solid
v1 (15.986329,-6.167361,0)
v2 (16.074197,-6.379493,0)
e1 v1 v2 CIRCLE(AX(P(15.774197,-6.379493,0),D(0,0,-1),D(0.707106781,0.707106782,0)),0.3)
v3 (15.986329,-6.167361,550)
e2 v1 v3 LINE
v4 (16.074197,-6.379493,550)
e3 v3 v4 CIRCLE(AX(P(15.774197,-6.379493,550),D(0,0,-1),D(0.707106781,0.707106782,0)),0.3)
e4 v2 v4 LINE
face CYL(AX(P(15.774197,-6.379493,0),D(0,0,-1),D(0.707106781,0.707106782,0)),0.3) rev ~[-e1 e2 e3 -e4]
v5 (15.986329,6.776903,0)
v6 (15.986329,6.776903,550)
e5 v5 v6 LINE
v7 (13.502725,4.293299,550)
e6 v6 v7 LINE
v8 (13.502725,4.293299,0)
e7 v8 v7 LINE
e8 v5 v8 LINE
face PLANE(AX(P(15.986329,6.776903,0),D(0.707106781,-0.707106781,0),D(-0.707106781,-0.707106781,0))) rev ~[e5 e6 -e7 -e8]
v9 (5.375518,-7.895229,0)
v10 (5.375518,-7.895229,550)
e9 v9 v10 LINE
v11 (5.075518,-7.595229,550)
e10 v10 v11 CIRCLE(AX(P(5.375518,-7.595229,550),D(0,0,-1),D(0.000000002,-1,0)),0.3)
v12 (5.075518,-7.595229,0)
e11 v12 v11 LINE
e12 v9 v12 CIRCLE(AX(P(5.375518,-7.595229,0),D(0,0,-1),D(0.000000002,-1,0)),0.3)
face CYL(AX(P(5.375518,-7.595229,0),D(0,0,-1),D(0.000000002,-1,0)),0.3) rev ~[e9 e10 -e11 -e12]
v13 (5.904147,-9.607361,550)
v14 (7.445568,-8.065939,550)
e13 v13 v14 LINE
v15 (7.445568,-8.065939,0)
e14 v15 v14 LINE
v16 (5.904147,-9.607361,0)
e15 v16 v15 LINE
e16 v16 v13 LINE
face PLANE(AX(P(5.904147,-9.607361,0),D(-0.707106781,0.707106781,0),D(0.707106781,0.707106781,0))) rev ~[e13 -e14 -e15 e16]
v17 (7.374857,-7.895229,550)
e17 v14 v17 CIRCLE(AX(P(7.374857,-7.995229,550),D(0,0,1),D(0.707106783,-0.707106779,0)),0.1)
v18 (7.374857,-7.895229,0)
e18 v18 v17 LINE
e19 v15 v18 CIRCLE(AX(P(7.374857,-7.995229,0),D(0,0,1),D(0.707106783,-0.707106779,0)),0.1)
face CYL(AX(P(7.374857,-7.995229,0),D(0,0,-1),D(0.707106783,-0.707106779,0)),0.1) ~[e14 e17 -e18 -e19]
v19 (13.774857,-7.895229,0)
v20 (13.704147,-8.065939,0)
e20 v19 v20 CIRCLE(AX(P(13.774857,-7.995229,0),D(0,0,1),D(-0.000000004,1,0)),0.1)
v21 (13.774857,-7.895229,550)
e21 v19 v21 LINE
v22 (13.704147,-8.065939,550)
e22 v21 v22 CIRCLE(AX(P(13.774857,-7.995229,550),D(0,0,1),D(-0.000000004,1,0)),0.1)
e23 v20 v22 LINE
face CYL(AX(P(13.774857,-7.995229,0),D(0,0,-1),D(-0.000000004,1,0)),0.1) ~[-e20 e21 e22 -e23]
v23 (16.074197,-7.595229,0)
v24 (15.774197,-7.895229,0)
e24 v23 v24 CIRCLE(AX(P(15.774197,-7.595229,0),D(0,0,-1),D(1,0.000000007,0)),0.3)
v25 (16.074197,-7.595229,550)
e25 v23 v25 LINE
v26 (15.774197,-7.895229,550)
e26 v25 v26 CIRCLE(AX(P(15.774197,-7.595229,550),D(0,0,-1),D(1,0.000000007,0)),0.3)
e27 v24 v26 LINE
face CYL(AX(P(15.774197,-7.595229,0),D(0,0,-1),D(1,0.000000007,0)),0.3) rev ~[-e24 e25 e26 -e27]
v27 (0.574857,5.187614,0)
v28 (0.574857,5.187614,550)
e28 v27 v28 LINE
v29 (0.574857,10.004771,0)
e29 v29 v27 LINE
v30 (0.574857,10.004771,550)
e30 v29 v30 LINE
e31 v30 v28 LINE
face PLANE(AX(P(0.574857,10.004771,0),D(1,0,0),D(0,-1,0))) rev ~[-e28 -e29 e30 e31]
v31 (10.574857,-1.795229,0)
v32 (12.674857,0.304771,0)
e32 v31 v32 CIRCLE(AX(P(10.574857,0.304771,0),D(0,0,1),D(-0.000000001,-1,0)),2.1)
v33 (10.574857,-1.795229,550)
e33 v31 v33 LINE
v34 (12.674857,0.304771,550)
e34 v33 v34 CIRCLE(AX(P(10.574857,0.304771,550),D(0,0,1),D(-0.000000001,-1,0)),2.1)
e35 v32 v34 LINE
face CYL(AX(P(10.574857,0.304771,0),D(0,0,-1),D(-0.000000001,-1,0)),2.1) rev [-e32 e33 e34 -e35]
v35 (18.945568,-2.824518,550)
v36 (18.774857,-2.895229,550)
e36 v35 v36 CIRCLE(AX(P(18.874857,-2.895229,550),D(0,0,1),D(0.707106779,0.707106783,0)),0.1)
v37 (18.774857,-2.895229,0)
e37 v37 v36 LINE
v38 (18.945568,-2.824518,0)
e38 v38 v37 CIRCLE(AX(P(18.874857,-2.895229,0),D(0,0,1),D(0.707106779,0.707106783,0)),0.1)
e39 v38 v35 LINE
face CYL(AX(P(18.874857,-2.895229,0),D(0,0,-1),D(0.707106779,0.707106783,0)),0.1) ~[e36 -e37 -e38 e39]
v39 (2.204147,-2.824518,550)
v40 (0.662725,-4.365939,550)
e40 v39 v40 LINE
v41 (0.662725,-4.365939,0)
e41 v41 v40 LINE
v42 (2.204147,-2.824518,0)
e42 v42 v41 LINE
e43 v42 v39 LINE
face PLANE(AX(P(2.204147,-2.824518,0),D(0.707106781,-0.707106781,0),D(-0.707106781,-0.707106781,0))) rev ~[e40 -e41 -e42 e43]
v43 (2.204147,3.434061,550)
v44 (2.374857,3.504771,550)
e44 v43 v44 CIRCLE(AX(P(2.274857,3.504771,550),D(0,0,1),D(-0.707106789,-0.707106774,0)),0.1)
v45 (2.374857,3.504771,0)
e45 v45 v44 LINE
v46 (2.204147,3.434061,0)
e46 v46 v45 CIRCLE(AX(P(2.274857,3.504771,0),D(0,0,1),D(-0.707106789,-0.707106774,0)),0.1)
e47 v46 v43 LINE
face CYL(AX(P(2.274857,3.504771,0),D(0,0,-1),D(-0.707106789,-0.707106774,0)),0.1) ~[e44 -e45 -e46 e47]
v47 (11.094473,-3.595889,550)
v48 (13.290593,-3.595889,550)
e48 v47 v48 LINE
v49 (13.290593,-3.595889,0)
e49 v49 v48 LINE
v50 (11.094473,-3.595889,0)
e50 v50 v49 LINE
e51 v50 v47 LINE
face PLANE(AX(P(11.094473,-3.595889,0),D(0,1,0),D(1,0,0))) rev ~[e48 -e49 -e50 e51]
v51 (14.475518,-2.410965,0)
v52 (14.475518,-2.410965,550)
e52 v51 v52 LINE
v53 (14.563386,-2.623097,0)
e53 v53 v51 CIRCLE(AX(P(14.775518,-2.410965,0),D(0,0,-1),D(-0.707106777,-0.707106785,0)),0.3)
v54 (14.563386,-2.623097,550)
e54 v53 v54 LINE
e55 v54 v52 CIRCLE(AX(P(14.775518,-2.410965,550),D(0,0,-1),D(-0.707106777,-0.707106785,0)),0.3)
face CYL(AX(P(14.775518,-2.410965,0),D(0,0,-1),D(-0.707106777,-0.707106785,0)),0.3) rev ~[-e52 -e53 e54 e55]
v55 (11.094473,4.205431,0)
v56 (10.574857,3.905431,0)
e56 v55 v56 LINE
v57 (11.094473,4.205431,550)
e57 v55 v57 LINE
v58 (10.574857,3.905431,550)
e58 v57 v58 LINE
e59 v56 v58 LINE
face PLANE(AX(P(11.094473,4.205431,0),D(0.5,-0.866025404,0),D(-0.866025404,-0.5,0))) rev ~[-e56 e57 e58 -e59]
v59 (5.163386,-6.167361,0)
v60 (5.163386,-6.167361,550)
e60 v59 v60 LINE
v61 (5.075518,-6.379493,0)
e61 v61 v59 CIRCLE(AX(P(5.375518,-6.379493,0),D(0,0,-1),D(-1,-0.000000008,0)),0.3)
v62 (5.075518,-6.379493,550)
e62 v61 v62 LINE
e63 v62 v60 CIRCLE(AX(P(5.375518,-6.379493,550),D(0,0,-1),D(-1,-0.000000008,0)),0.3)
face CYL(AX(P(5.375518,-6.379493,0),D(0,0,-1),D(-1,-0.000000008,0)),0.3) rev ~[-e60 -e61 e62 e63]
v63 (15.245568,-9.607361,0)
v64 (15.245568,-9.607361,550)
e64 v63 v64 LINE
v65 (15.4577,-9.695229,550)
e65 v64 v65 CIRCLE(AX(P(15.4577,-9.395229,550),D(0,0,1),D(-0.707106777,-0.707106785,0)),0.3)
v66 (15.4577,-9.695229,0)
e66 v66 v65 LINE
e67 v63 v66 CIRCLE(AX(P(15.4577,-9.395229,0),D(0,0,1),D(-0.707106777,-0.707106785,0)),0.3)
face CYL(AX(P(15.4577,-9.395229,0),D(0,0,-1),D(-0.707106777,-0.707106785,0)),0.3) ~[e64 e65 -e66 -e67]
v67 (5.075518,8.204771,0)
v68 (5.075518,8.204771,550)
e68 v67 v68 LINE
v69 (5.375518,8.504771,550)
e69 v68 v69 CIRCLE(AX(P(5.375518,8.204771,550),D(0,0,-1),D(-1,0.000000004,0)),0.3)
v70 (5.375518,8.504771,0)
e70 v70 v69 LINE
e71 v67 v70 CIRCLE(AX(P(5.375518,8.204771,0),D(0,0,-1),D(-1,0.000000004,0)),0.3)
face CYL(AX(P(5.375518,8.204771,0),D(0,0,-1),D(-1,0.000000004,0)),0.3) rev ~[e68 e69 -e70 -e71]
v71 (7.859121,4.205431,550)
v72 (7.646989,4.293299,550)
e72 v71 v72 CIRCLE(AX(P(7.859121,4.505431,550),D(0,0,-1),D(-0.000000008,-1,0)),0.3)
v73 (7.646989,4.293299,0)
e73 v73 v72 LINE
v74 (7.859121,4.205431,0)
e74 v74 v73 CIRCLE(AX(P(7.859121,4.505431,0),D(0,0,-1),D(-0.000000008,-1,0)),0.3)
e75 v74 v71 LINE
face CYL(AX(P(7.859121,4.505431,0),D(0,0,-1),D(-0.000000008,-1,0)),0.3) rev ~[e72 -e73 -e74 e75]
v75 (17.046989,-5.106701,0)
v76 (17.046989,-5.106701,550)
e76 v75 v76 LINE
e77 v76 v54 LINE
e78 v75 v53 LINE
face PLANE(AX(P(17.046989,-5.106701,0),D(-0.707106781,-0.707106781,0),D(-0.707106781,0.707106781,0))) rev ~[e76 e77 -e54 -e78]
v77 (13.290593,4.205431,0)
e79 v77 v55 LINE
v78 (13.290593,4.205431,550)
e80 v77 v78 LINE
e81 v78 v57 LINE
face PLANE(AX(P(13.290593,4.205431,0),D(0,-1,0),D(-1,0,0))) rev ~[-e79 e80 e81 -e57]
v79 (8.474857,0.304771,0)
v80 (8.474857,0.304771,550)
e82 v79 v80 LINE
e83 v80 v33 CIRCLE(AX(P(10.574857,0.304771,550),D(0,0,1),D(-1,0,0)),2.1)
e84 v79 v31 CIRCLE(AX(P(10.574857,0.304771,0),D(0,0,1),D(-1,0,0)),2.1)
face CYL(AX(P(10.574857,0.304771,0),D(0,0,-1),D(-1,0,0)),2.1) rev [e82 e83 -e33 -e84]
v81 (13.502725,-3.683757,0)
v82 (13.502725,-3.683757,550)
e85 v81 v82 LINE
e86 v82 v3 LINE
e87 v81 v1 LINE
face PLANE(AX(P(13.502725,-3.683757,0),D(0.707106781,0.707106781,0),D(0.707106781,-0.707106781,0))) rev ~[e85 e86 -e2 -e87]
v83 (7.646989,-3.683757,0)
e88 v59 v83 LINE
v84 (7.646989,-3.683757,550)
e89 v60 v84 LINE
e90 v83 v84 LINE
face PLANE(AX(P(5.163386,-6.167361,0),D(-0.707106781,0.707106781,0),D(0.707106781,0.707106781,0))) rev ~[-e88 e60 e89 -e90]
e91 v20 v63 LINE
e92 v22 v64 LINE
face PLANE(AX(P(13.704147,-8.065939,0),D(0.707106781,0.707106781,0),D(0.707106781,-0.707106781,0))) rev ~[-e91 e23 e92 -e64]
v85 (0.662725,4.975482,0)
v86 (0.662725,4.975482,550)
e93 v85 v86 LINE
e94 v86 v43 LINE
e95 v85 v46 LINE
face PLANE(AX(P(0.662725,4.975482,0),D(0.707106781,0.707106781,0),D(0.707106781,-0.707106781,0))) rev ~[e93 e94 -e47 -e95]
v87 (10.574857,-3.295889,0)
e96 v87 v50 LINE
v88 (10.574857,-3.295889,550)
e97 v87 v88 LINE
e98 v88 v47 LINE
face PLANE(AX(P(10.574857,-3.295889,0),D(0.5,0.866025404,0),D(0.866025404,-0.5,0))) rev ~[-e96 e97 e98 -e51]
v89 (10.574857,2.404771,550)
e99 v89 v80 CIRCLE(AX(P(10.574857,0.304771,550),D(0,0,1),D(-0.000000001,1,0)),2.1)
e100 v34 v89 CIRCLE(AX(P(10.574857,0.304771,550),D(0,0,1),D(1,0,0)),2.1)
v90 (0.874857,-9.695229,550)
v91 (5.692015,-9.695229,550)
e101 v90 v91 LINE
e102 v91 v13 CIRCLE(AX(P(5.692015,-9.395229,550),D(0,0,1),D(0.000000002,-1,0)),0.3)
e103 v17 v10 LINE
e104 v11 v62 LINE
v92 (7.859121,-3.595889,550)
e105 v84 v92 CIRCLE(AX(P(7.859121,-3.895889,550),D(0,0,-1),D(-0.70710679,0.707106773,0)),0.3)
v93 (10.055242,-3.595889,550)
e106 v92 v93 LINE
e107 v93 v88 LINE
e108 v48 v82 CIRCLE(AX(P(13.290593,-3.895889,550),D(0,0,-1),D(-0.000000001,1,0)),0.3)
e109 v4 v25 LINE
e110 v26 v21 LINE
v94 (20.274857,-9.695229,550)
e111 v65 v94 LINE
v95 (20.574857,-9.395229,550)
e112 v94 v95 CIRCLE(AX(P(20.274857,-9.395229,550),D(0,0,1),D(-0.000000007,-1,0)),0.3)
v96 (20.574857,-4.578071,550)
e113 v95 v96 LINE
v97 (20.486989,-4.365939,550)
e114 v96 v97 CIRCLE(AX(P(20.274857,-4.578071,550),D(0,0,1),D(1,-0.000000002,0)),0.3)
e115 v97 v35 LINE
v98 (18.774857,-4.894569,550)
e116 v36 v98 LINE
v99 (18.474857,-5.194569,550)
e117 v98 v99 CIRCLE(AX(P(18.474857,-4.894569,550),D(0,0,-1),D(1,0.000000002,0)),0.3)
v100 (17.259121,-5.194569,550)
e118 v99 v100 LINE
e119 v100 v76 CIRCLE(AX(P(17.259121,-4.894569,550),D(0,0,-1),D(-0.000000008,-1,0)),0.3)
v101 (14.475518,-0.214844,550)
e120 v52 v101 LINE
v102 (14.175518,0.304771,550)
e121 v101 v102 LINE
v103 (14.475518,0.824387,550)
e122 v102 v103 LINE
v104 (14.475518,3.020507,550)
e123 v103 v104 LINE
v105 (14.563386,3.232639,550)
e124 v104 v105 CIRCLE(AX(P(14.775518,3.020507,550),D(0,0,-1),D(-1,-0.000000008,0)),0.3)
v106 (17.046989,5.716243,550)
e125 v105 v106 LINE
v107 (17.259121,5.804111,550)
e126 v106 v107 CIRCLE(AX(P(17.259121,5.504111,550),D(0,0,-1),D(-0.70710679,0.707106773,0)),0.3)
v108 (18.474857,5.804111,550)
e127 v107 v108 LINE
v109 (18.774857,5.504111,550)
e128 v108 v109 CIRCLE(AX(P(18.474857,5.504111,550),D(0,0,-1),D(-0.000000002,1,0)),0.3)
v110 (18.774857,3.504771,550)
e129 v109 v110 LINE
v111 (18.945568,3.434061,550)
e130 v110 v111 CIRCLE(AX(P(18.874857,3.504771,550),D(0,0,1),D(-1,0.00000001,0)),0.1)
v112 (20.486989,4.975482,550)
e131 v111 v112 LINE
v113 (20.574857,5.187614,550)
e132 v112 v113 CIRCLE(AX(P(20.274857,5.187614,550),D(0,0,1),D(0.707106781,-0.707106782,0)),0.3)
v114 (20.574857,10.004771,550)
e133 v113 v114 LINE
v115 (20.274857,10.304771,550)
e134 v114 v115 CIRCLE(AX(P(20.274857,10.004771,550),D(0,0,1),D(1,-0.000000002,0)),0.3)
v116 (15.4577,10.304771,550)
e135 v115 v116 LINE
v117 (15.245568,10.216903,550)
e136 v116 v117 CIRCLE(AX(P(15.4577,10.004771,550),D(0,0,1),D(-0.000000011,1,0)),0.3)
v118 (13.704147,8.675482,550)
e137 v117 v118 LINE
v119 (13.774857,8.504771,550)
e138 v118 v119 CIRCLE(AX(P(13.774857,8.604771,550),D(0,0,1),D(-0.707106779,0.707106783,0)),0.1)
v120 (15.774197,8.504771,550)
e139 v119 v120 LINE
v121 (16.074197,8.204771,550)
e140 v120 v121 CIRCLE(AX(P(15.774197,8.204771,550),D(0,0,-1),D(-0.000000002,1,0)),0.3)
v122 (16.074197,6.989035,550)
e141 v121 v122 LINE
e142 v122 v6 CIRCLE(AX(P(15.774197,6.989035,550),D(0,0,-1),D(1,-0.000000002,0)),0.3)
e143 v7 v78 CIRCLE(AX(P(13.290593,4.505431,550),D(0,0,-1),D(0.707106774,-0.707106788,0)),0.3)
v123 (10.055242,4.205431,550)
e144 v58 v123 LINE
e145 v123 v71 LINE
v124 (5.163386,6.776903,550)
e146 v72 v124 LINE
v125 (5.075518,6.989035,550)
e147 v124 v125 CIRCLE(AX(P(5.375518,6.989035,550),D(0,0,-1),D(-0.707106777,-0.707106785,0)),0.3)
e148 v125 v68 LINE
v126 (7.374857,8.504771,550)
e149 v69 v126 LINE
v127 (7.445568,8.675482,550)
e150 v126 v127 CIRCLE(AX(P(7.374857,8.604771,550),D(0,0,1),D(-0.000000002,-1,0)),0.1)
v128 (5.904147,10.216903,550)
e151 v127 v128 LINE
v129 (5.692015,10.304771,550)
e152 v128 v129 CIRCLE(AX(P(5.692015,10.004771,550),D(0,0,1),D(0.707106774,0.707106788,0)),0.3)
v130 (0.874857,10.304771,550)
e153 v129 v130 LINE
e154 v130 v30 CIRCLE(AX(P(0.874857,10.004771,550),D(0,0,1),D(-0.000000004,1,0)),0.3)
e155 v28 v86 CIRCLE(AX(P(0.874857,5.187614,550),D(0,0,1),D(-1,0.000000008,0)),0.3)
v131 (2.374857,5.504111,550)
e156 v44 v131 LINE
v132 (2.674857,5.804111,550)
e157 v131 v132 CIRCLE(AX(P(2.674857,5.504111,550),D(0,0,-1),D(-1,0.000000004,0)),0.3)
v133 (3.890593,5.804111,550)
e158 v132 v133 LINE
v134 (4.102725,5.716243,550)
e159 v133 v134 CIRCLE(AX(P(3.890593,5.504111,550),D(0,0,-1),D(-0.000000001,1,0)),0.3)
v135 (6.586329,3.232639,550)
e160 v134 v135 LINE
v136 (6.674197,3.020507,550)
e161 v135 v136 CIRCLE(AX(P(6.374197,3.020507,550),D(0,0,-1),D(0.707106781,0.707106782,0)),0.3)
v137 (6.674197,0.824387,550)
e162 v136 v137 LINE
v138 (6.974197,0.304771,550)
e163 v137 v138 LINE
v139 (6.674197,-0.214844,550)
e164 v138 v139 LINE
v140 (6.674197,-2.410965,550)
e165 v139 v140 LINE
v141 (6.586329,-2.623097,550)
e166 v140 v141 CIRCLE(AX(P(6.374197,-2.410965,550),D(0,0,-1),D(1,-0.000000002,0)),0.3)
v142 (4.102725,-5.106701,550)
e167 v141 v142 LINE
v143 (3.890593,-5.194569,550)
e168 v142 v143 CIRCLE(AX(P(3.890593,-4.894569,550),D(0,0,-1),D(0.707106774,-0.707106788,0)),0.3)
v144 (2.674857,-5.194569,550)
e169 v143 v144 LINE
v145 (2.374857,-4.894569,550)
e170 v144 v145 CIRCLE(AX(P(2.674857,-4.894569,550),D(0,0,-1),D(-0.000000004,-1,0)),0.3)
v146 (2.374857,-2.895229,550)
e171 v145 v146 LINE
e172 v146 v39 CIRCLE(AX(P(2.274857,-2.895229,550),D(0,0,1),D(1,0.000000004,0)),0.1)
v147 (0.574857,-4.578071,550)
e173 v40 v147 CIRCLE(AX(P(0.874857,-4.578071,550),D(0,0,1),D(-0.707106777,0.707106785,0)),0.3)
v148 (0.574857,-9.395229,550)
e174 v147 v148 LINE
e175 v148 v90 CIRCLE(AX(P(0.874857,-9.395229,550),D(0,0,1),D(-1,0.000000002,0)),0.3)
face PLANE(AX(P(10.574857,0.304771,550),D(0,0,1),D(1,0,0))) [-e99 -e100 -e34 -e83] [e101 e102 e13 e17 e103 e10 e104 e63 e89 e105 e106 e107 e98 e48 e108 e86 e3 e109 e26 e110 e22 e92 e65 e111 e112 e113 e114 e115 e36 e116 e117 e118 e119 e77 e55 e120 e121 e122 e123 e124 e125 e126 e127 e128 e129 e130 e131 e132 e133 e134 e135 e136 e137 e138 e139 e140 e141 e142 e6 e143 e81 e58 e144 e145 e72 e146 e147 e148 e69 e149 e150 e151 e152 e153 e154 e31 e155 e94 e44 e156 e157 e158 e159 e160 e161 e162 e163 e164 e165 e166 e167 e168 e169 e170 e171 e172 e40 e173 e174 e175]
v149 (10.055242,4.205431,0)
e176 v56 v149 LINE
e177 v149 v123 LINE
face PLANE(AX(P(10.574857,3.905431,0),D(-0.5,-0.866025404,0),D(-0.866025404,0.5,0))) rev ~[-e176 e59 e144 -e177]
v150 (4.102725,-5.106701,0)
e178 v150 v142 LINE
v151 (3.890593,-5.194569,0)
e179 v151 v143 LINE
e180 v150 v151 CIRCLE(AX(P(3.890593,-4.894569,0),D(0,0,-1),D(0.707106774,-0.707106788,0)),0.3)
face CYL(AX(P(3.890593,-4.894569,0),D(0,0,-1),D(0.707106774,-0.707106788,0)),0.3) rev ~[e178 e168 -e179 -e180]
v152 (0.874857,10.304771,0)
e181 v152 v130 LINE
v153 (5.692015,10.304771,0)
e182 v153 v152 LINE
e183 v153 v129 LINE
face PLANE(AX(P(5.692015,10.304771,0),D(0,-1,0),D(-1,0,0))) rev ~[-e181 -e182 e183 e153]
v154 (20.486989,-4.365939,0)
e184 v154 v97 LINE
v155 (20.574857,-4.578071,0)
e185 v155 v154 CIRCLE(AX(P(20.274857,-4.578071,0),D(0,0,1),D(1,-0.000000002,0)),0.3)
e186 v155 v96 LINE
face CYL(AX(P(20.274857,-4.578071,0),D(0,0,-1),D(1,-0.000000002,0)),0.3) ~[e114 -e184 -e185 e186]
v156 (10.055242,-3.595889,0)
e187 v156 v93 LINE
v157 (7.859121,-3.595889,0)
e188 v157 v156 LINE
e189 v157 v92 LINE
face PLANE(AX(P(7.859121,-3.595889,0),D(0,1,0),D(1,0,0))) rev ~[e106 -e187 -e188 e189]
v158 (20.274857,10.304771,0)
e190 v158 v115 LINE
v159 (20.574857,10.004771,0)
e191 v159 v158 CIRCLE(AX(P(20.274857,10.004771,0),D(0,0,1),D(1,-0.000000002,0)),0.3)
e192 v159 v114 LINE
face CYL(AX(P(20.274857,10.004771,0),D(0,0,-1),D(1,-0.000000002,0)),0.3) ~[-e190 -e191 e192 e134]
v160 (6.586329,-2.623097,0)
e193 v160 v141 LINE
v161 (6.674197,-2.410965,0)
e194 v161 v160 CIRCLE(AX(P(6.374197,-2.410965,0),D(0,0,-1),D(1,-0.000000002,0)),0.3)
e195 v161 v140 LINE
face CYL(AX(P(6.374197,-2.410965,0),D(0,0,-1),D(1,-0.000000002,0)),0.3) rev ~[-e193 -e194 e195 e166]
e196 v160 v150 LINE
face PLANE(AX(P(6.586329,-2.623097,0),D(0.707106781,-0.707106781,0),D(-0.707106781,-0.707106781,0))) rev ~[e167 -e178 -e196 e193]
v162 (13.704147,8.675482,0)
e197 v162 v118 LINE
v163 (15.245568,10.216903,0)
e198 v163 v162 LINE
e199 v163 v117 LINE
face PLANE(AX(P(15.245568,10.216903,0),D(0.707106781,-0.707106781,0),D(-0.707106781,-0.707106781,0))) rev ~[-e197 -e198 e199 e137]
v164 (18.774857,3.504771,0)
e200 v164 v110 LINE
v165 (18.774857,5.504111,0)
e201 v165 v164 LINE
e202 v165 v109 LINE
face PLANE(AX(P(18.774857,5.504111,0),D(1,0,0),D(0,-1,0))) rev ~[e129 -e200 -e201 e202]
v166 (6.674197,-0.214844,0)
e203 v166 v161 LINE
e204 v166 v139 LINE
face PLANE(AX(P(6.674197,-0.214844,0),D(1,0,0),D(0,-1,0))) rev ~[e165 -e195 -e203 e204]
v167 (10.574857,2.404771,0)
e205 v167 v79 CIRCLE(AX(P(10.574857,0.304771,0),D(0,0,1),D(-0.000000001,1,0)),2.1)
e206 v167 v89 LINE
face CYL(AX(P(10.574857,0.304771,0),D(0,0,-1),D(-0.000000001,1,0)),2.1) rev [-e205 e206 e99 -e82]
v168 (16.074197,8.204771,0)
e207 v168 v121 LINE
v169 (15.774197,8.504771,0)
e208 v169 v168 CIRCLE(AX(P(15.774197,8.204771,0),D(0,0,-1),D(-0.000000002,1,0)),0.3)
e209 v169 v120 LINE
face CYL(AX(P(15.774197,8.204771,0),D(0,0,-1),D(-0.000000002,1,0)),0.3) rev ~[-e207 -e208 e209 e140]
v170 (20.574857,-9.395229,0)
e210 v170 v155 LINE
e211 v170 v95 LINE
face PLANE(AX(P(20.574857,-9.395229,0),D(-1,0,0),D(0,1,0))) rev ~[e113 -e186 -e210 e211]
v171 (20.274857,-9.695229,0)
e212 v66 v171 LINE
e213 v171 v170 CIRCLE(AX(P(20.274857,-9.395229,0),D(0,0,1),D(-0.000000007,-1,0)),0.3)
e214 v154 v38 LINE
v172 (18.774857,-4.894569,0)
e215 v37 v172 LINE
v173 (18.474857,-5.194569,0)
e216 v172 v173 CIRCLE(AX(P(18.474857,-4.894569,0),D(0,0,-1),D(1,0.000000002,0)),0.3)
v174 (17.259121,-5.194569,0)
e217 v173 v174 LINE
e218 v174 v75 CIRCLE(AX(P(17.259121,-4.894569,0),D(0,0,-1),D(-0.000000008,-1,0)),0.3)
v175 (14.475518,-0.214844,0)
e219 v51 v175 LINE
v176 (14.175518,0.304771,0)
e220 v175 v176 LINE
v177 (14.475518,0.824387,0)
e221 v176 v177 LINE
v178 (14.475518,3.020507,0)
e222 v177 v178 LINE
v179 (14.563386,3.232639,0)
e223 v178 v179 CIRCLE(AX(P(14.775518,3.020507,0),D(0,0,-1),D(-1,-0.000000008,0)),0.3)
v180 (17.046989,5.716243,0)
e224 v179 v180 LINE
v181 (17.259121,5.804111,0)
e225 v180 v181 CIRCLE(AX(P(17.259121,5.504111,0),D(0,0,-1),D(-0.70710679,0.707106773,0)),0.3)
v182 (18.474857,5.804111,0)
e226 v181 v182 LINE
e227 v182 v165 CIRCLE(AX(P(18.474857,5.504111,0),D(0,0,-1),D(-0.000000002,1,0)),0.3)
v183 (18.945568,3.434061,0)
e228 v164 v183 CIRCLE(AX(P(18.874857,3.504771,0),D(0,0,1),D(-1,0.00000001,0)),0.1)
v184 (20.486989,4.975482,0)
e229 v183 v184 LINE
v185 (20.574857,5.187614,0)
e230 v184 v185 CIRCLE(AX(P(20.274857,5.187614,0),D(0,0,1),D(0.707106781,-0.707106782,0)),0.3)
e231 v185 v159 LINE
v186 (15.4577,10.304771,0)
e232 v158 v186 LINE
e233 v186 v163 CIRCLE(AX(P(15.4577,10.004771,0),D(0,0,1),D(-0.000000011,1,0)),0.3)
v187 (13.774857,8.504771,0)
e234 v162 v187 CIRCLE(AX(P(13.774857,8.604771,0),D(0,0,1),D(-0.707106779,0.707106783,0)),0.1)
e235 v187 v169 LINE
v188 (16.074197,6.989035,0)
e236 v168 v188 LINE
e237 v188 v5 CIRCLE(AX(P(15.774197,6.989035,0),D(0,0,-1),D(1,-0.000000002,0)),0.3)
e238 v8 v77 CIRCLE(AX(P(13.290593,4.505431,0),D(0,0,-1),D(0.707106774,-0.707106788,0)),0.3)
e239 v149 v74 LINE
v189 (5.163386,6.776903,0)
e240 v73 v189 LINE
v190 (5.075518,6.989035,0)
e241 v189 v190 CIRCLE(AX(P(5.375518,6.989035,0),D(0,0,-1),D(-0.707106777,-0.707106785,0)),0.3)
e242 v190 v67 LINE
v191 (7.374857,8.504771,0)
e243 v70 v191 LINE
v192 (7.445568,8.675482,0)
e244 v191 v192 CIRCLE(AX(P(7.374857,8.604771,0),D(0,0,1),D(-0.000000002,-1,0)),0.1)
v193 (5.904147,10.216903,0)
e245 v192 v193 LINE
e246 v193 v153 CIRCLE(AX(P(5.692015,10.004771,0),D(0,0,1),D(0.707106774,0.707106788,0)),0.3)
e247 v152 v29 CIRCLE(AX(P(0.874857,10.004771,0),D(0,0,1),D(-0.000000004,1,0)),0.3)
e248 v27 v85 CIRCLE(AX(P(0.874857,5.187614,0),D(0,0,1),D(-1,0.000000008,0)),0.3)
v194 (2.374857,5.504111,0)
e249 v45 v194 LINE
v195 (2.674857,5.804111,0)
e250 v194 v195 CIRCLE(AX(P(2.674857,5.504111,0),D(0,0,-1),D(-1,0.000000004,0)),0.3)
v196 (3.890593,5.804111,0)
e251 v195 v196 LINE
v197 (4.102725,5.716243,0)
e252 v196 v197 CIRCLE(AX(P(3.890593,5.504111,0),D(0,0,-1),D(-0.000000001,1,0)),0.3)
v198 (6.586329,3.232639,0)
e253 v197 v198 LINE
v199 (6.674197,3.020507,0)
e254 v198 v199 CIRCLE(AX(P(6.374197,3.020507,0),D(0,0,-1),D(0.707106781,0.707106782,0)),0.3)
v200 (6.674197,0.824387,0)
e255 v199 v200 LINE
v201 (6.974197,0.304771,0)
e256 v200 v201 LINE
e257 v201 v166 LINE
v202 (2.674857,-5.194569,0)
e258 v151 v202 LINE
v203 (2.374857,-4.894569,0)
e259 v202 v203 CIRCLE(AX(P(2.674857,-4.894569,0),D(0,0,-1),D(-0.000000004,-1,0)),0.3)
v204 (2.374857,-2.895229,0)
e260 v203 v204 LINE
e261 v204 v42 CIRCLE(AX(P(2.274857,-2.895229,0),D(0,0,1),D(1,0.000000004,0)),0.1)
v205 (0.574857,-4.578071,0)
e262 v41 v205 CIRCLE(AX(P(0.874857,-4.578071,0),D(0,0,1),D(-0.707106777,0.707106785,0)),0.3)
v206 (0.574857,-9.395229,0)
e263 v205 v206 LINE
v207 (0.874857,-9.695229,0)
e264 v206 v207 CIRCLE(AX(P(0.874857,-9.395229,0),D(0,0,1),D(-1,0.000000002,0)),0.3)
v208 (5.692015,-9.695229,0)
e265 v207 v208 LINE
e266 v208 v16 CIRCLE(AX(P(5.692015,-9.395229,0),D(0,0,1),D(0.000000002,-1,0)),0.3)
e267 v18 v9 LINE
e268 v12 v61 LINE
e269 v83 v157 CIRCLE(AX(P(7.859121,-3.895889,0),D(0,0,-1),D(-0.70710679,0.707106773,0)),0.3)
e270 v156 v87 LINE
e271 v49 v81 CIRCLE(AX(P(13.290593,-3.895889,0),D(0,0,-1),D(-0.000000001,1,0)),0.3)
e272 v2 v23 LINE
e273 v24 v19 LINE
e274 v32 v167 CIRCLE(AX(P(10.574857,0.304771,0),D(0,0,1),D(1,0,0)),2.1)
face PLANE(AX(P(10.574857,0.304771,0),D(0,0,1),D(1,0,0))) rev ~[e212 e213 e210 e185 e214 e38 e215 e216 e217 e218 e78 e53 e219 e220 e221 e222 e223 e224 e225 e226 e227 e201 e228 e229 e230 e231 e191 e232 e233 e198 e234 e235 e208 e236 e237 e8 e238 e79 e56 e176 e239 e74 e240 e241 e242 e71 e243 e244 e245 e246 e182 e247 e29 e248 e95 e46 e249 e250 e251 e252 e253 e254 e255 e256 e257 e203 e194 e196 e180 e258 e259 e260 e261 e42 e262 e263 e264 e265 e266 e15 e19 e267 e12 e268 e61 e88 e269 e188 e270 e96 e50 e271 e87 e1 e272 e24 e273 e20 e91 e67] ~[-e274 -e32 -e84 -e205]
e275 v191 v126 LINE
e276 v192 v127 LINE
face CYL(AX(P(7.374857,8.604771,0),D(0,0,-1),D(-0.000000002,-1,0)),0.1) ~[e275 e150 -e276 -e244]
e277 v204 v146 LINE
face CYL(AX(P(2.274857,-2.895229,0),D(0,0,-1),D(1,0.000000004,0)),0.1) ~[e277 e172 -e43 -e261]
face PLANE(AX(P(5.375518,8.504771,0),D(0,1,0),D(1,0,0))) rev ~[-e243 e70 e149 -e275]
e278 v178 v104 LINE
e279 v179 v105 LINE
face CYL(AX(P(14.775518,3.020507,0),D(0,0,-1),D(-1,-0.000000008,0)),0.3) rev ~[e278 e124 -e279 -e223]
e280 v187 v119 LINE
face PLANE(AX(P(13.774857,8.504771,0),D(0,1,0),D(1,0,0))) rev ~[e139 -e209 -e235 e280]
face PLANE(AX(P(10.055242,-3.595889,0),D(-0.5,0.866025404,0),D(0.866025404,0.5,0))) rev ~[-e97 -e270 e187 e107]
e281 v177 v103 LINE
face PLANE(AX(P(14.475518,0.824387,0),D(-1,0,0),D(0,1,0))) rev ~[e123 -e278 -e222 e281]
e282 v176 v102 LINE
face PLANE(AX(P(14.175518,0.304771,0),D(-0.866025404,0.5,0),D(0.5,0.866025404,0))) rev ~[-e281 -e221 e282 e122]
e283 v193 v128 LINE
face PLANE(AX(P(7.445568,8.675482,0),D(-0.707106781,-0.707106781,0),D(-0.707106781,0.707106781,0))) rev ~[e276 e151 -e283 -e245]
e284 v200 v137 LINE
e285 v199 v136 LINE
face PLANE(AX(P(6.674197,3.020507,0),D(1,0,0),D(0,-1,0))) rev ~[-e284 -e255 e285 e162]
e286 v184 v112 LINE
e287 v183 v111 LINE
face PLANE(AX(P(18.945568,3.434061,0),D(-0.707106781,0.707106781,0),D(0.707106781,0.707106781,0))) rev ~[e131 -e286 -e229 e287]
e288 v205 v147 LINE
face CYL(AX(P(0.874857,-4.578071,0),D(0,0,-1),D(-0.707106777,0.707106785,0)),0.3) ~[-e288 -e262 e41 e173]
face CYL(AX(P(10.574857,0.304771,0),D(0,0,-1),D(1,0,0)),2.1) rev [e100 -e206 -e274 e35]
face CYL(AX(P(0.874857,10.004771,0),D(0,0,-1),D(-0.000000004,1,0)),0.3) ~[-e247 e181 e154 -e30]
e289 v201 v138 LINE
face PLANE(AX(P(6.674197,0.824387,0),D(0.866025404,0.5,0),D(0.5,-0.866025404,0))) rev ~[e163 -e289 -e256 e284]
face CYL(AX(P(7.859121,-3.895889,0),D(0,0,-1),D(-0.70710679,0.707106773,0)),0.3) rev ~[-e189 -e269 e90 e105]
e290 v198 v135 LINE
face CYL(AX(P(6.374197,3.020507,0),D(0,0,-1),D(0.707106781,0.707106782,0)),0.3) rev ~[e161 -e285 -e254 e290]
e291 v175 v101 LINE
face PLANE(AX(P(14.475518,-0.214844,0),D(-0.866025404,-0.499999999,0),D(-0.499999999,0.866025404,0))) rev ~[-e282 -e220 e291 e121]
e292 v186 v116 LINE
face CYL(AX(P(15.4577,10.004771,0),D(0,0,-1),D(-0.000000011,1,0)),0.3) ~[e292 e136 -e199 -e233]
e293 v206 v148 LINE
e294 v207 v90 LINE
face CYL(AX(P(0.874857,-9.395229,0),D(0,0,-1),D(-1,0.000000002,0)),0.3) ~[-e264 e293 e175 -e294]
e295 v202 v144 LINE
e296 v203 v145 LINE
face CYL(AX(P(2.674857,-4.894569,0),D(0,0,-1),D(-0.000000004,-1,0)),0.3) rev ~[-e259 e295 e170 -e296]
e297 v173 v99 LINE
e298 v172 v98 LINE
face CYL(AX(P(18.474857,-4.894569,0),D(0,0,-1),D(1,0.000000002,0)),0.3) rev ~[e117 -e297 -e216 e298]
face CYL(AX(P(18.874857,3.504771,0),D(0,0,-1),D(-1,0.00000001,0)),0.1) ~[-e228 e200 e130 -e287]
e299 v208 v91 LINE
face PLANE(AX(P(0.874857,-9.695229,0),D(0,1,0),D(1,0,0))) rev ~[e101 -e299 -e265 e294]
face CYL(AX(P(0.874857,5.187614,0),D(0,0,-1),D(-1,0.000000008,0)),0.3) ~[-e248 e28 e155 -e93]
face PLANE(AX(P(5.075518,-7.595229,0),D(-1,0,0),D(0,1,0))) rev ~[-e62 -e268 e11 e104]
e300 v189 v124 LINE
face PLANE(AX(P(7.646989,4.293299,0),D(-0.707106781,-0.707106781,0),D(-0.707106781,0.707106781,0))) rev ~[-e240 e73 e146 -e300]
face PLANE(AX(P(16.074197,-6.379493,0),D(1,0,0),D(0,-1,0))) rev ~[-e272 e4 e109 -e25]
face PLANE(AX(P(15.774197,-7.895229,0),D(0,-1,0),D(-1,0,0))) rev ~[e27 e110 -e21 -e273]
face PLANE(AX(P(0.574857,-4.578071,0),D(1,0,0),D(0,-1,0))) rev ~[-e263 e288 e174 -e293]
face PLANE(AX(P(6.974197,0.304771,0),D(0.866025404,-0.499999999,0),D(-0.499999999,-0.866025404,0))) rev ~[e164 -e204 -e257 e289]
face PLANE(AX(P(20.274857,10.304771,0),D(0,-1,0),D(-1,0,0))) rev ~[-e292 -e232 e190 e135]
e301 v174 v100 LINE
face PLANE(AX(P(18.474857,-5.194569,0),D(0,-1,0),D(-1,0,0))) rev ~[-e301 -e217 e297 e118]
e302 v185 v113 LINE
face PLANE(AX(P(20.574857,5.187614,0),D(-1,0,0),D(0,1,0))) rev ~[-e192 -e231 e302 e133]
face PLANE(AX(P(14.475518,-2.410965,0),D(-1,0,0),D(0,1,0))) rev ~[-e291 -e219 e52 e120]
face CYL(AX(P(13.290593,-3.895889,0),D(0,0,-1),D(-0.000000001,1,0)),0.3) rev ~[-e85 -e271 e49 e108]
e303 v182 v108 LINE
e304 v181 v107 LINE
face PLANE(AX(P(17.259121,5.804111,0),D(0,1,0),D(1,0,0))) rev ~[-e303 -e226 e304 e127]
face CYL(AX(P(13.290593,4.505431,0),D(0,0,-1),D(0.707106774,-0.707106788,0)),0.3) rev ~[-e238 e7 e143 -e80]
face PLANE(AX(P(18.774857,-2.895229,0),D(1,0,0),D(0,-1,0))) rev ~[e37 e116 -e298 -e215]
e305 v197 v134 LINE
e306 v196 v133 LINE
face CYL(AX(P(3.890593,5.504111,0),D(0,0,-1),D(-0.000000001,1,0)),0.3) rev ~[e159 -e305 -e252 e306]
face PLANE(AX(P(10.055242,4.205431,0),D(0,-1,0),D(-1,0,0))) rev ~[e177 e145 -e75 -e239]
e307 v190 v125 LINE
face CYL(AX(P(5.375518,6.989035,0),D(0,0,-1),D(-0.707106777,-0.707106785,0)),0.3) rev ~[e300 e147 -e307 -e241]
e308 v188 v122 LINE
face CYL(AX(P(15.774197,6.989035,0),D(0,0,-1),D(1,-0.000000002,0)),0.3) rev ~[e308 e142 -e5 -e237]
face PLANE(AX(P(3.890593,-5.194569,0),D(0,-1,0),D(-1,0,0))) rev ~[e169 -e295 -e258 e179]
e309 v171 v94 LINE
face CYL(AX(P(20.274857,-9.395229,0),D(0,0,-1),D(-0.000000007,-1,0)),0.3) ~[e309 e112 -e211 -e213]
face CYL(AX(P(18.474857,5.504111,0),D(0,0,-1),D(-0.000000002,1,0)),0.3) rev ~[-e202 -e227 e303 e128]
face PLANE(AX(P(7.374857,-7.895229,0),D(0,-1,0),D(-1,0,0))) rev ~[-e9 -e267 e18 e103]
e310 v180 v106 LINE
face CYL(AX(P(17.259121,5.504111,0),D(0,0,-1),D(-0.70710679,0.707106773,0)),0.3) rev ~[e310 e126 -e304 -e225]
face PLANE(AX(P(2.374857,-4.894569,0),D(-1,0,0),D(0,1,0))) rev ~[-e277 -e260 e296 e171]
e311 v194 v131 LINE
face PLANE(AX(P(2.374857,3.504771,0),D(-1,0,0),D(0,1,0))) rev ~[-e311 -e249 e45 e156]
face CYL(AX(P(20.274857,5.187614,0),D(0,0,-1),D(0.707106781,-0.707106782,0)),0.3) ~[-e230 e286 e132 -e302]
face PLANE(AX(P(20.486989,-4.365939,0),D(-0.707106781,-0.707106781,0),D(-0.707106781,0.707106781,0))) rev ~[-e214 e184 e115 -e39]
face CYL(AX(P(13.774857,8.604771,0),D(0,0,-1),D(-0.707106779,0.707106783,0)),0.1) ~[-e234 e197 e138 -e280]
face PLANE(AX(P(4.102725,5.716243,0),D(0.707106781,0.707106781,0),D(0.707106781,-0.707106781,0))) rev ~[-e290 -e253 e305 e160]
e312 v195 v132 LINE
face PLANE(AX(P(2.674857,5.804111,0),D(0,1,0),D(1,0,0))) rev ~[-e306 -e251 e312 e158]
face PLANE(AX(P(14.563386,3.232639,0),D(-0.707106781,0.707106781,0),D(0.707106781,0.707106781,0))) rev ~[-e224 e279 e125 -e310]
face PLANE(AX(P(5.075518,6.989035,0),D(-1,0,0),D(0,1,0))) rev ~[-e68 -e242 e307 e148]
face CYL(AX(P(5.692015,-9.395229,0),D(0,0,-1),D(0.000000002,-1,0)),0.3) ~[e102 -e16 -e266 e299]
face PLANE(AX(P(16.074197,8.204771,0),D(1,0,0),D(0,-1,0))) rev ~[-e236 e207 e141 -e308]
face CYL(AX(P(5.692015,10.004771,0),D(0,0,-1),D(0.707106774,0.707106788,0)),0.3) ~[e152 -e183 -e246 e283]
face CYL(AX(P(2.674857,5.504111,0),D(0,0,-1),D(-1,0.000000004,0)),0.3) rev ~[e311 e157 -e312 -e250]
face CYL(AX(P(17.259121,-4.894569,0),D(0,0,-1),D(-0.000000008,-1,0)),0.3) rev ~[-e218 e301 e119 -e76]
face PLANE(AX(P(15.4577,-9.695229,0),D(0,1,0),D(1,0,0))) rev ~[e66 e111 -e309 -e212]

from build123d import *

# Parameters (mm, degrees)
BOSS_EXTRU_1_DEPTH = 550


with BuildPart() as part:
    # Esquisse1 → Boss.-Extru.1 (new body)
    with BuildSketch(Plane.XY):
        with BuildLine():
            Line((18.774857412, -2.895228684), (18.774857412, -4.894568513))
            ThreePointArc((18.774857412, -4.894568513), (18.686989447, -5.106700547), (18.474857412, -5.194568513))
            Line((18.474857412, -5.194568513), (17.259121481, -5.194568513))
            ThreePointArc((17.259121481, -5.194568513), (17.144316451, -5.171732372), (17.046989447, -5.106700547))
            Line((17.046989447, -5.106700547), (14.56338555, -2.62309665))
            ThreePointArc((14.56338555, -2.62309665), (14.498353724, -2.525769645), (14.475517584, -2.410964616))
            Line((14.475517584, -2.410964616), (14.475517584, -0.214843927))
            Line((14.475517584, -0.214843927), (14.175517584, 0.304771316))
            Line((14.175517584, 0.304771316), (14.475517584, 0.824386558))
            Line((14.475517584, 0.824386558), (14.475517584, 3.020507247))
            ThreePointArc((14.475517584, 3.020507247), (14.498353724, 3.135312277), (14.56338555, 3.232639281))
            Line((14.56338555, 3.232639281), (17.046989447, 5.716243178))
            ThreePointArc((17.046989447, 5.716243178), (17.144316451, 5.781275004), (17.259121481, 5.804111144))
            Line((17.259121481, 5.804111144), (18.474857412, 5.804111144))
            ThreePointArc((18.474857412, 5.804111144), (18.686989447, 5.716243178), (18.774857412, 5.504111144))
            Line((18.774857412, 5.504111144), (18.774857412, 3.504771316))
            ThreePointArc((18.774857412, 3.504771316), (18.836589069, 3.412383362), (18.94556809, 3.434060638))
            Line((18.94556809, 3.434060638), (20.486989447, 4.975481994))
            ThreePointArc((20.486989447, 4.975481994), (20.552021272, 5.072808998), (20.574857412, 5.187614028))
            Line((20.574857412, 5.187614028), (20.574857412, 10.004771316))
            ThreePointArc((20.574857412, 10.004771316), (20.486989447, 10.21690335), (20.274857412, 10.304771316))
            Line((20.274857412, 10.304771316), (15.457700125, 10.304771316))
            ThreePointArc((15.457700125, 10.304771316), (15.342895095, 10.281935175), (15.24556809, 10.21690335))
            Line((15.24556809, 10.21690335), (13.704146734, 8.675481994))
            ThreePointArc((13.704146734, 8.675481994), (13.682469459, 8.566502972), (13.774857412, 8.504771316))
            Line((13.774857412, 8.504771316), (15.77419724, 8.504771316))
            ThreePointArc((15.77419724, 8.504771316), (15.986329275, 8.41690335), (16.07419724, 8.204771316))
            Line((16.07419724, 8.204771316), (16.07419724, 6.989035384))
            ThreePointArc((16.07419724, 6.989035384), (16.0513611, 6.874230355), (15.986329275, 6.77690335))
            Line((15.986329275, 6.77690335), (13.502725378, 4.293299453))
            ThreePointArc((13.502725378, 4.293299453), (13.405398373, 4.228267628), (13.290593344, 4.205431487))
            Line((13.290593344, 4.205431487), (11.094472654, 4.205431487))
            Line((11.094472654, 4.205431487), (10.574857412, 3.905431487))
            Line((10.574857412, 3.905431487), (10.05524217, 4.205431487))
            Line((10.05524217, 4.205431487), (7.859121481, 4.205431487))
            ThreePointArc((7.859121481, 4.205431487), (7.744316451, 4.228267628), (7.646989447, 4.293299453))
            Line((7.646989447, 4.293299453), (5.16338555, 6.77690335))
            ThreePointArc((5.16338555, 6.77690335), (5.098353724, 6.874230355), (5.075517584, 6.989035384))
            Line((5.075517584, 6.989035384), (5.075517584, 8.204771316))
            ThreePointArc((5.075517584, 8.204771316), (5.16338555, 8.41690335), (5.375517584, 8.504771316))
            Line((5.375517584, 8.504771316), (7.374857412, 8.504771316))
            ThreePointArc((7.374857412, 8.504771316), (7.467245365, 8.566502972), (7.44556809, 8.675481994))
            Line((7.44556809, 8.675481994), (5.904146734, 10.21690335))
            ThreePointArc((5.904146734, 10.21690335), (5.806819729, 10.281935175), (5.6920147, 10.304771316))
            Line((5.6920147, 10.304771316), (0.874857412, 10.304771316))
            ThreePointArc((0.874857412, 10.304771316), (0.662725378, 10.21690335), (0.574857412, 10.004771316))
            Line((0.574857412, 10.004771316), (0.574857412, 5.187614028))
            ThreePointArc((0.574857412, 5.187614028), (0.597693552, 5.072808998), (0.662725378, 4.975481994))
            Line((0.662725378, 4.975481994), (2.204146734, 3.434060638))
            ThreePointArc((2.204146734, 3.434060638), (2.313125755, 3.412383362), (2.374857412, 3.504771316))
            Line((2.374857412, 3.504771316), (2.374857412, 5.504111144))
            ThreePointArc((2.374857412, 5.504111144), (2.462725378, 5.716243178), (2.674857412, 5.804111144))
            Line((2.674857412, 5.804111144), (3.890593344, 5.804111144))
            ThreePointArc((3.890593344, 5.804111144), (4.005398373, 5.781275004), (4.102725378, 5.716243178))
            Line((4.102725378, 5.716243178), (6.586329275, 3.232639281))
            ThreePointArc((6.586329275, 3.232639281), (6.6513611, 3.135312277), (6.67419724, 3.020507247))
            Line((6.67419724, 3.020507247), (6.67419724, 0.824386558))
            Line((6.67419724, 0.824386558), (6.97419724, 0.304771316))
            Line((6.97419724, 0.304771316), (6.67419724, -0.214843927))
            Line((6.67419724, -0.214843927), (6.67419724, -2.410964616))
            ThreePointArc((6.67419724, -2.410964616), (6.6513611, -2.525769645), (6.586329275, -2.62309665))
            Line((6.586329275, -2.62309665), (4.102725378, -5.106700547))
            ThreePointArc((4.102725378, -5.106700547), (4.005398373, -5.171732372), (3.890593344, -5.194568513))
            Line((3.890593344, -5.194568513), (2.674857412, -5.194568513))
            ThreePointArc((2.674857412, -5.194568513), (2.462725378, -5.106700547), (2.374857412, -4.894568513))
            Line((2.374857412, -4.894568513), (2.374857412, -2.895228684))
            ThreePointArc((2.374857412, -2.895228684), (2.313125755, -2.802840731), (2.204146734, -2.824518006))
            Line((2.204146734, -2.824518006), (0.662725378, -4.365939362))
            ThreePointArc((0.662725378, -4.365939362), (0.597693552, -4.463266367), (0.574857412, -4.578071397))
            Line((0.574857412, -4.578071397), (0.574857412, -9.395228684))
            ThreePointArc((0.574857412, -9.395228684), (0.662725378, -9.607360719), (0.874857412, -9.695228684))
            Line((0.874857412, -9.695228684), (5.6920147, -9.695228684))
            ThreePointArc((5.6920147, -9.695228684), (5.806819729, -9.672392544), (5.904146734, -9.607360719))
            Line((5.904146734, -9.607360719), (7.44556809, -8.065939362))
            ThreePointArc((7.44556809, -8.065939362), (7.467245365, -7.956960341), (7.374857412, -7.895228684))
            Line((7.374857412, -7.895228684), (5.375517584, -7.895228684))
            ThreePointArc((5.375517584, -7.895228684), (5.16338555, -7.807360719), (5.075517584, -7.595228684))
            Line((5.075517584, -7.595228684), (5.075517584, -6.379492753))
            ThreePointArc((5.075517584, -6.379492753), (5.098353724, -6.264687723), (5.16338555, -6.167360719))
            Line((5.16338555, -6.167360719), (7.646989447, -3.683756822))
            ThreePointArc((7.646989447, -3.683756822), (7.744316451, -3.618724996), (7.859121481, -3.595888856))
            Line((7.859121481, -3.595888856), (10.05524217, -3.595888856))
            Line((10.05524217, -3.595888856), (10.574857412, -3.295888856))
            Line((10.574857412, -3.295888856), (11.094472654, -3.595888856))
            Line((11.094472654, -3.595888856), (13.290593344, -3.595888856))
            ThreePointArc((13.290593344, -3.595888856), (13.405398373, -3.618724996), (13.502725378, -3.683756822))
            Line((13.502725378, -3.683756822), (15.986329275, -6.167360719))
            ThreePointArc((15.986329275, -6.167360719), (16.0513611, -6.264687723), (16.07419724, -6.379492753))
            Line((16.07419724, -6.379492753), (16.07419724, -7.595228684))
            ThreePointArc((16.07419724, -7.595228684), (15.986329275, -7.807360719), (15.77419724, -7.895228684))
            Line((15.77419724, -7.895228684), (13.774857412, -7.895228684))
            ThreePointArc((13.774857412, -7.895228684), (13.682469459, -7.956960341), (13.704146734, -8.065939362))
            Line((13.704146734, -8.065939362), (15.24556809, -9.607360719))
            ThreePointArc((15.24556809, -9.607360719), (15.342895095, -9.672392544), (15.457700125, -9.695228684))
            Line((15.457700125, -9.695228684), (20.274857412, -9.695228684))
            ThreePointArc((20.274857412, -9.695228684), (20.486989447, -9.607360719), (20.574857412, -9.395228684))
            Line((20.574857412, -9.395228684), (20.574857412, -4.578071397))
            ThreePointArc((20.574857412, -4.578071397), (20.552021272, -4.463266367), (20.486989447, -4.365939362))
            Line((20.486989447, -4.365939362), (18.94556809, -2.824518006))
            ThreePointArc((18.94556809, -2.824518006), (18.836589069, -2.802840731), (18.774857412, -2.895228684))
        make_face()
        with BuildLine():
            ThreePointArc((10.574857412, -1.795228684), (12.059781653, -1.180152925), (12.674857412, 0.304771316))
            ThreePointArc((12.674857412, 0.304771316), (12.059781653, 1.789695556), (10.574857412, 2.404771316))
            ThreePointArc((10.574857412, 2.404771316), (9.089933172, 1.789695556), (8.474857412, 0.304771316))
            ThreePointArc((8.474857412, 0.304771316), (9.089933172, -1.180152925), (10.574857412, -1.795228684))
        make_face(mode=Mode.SUBTRACT)
    extrude(amount=BOSS_EXTRU_1_DEPTH)


solid = part.part
